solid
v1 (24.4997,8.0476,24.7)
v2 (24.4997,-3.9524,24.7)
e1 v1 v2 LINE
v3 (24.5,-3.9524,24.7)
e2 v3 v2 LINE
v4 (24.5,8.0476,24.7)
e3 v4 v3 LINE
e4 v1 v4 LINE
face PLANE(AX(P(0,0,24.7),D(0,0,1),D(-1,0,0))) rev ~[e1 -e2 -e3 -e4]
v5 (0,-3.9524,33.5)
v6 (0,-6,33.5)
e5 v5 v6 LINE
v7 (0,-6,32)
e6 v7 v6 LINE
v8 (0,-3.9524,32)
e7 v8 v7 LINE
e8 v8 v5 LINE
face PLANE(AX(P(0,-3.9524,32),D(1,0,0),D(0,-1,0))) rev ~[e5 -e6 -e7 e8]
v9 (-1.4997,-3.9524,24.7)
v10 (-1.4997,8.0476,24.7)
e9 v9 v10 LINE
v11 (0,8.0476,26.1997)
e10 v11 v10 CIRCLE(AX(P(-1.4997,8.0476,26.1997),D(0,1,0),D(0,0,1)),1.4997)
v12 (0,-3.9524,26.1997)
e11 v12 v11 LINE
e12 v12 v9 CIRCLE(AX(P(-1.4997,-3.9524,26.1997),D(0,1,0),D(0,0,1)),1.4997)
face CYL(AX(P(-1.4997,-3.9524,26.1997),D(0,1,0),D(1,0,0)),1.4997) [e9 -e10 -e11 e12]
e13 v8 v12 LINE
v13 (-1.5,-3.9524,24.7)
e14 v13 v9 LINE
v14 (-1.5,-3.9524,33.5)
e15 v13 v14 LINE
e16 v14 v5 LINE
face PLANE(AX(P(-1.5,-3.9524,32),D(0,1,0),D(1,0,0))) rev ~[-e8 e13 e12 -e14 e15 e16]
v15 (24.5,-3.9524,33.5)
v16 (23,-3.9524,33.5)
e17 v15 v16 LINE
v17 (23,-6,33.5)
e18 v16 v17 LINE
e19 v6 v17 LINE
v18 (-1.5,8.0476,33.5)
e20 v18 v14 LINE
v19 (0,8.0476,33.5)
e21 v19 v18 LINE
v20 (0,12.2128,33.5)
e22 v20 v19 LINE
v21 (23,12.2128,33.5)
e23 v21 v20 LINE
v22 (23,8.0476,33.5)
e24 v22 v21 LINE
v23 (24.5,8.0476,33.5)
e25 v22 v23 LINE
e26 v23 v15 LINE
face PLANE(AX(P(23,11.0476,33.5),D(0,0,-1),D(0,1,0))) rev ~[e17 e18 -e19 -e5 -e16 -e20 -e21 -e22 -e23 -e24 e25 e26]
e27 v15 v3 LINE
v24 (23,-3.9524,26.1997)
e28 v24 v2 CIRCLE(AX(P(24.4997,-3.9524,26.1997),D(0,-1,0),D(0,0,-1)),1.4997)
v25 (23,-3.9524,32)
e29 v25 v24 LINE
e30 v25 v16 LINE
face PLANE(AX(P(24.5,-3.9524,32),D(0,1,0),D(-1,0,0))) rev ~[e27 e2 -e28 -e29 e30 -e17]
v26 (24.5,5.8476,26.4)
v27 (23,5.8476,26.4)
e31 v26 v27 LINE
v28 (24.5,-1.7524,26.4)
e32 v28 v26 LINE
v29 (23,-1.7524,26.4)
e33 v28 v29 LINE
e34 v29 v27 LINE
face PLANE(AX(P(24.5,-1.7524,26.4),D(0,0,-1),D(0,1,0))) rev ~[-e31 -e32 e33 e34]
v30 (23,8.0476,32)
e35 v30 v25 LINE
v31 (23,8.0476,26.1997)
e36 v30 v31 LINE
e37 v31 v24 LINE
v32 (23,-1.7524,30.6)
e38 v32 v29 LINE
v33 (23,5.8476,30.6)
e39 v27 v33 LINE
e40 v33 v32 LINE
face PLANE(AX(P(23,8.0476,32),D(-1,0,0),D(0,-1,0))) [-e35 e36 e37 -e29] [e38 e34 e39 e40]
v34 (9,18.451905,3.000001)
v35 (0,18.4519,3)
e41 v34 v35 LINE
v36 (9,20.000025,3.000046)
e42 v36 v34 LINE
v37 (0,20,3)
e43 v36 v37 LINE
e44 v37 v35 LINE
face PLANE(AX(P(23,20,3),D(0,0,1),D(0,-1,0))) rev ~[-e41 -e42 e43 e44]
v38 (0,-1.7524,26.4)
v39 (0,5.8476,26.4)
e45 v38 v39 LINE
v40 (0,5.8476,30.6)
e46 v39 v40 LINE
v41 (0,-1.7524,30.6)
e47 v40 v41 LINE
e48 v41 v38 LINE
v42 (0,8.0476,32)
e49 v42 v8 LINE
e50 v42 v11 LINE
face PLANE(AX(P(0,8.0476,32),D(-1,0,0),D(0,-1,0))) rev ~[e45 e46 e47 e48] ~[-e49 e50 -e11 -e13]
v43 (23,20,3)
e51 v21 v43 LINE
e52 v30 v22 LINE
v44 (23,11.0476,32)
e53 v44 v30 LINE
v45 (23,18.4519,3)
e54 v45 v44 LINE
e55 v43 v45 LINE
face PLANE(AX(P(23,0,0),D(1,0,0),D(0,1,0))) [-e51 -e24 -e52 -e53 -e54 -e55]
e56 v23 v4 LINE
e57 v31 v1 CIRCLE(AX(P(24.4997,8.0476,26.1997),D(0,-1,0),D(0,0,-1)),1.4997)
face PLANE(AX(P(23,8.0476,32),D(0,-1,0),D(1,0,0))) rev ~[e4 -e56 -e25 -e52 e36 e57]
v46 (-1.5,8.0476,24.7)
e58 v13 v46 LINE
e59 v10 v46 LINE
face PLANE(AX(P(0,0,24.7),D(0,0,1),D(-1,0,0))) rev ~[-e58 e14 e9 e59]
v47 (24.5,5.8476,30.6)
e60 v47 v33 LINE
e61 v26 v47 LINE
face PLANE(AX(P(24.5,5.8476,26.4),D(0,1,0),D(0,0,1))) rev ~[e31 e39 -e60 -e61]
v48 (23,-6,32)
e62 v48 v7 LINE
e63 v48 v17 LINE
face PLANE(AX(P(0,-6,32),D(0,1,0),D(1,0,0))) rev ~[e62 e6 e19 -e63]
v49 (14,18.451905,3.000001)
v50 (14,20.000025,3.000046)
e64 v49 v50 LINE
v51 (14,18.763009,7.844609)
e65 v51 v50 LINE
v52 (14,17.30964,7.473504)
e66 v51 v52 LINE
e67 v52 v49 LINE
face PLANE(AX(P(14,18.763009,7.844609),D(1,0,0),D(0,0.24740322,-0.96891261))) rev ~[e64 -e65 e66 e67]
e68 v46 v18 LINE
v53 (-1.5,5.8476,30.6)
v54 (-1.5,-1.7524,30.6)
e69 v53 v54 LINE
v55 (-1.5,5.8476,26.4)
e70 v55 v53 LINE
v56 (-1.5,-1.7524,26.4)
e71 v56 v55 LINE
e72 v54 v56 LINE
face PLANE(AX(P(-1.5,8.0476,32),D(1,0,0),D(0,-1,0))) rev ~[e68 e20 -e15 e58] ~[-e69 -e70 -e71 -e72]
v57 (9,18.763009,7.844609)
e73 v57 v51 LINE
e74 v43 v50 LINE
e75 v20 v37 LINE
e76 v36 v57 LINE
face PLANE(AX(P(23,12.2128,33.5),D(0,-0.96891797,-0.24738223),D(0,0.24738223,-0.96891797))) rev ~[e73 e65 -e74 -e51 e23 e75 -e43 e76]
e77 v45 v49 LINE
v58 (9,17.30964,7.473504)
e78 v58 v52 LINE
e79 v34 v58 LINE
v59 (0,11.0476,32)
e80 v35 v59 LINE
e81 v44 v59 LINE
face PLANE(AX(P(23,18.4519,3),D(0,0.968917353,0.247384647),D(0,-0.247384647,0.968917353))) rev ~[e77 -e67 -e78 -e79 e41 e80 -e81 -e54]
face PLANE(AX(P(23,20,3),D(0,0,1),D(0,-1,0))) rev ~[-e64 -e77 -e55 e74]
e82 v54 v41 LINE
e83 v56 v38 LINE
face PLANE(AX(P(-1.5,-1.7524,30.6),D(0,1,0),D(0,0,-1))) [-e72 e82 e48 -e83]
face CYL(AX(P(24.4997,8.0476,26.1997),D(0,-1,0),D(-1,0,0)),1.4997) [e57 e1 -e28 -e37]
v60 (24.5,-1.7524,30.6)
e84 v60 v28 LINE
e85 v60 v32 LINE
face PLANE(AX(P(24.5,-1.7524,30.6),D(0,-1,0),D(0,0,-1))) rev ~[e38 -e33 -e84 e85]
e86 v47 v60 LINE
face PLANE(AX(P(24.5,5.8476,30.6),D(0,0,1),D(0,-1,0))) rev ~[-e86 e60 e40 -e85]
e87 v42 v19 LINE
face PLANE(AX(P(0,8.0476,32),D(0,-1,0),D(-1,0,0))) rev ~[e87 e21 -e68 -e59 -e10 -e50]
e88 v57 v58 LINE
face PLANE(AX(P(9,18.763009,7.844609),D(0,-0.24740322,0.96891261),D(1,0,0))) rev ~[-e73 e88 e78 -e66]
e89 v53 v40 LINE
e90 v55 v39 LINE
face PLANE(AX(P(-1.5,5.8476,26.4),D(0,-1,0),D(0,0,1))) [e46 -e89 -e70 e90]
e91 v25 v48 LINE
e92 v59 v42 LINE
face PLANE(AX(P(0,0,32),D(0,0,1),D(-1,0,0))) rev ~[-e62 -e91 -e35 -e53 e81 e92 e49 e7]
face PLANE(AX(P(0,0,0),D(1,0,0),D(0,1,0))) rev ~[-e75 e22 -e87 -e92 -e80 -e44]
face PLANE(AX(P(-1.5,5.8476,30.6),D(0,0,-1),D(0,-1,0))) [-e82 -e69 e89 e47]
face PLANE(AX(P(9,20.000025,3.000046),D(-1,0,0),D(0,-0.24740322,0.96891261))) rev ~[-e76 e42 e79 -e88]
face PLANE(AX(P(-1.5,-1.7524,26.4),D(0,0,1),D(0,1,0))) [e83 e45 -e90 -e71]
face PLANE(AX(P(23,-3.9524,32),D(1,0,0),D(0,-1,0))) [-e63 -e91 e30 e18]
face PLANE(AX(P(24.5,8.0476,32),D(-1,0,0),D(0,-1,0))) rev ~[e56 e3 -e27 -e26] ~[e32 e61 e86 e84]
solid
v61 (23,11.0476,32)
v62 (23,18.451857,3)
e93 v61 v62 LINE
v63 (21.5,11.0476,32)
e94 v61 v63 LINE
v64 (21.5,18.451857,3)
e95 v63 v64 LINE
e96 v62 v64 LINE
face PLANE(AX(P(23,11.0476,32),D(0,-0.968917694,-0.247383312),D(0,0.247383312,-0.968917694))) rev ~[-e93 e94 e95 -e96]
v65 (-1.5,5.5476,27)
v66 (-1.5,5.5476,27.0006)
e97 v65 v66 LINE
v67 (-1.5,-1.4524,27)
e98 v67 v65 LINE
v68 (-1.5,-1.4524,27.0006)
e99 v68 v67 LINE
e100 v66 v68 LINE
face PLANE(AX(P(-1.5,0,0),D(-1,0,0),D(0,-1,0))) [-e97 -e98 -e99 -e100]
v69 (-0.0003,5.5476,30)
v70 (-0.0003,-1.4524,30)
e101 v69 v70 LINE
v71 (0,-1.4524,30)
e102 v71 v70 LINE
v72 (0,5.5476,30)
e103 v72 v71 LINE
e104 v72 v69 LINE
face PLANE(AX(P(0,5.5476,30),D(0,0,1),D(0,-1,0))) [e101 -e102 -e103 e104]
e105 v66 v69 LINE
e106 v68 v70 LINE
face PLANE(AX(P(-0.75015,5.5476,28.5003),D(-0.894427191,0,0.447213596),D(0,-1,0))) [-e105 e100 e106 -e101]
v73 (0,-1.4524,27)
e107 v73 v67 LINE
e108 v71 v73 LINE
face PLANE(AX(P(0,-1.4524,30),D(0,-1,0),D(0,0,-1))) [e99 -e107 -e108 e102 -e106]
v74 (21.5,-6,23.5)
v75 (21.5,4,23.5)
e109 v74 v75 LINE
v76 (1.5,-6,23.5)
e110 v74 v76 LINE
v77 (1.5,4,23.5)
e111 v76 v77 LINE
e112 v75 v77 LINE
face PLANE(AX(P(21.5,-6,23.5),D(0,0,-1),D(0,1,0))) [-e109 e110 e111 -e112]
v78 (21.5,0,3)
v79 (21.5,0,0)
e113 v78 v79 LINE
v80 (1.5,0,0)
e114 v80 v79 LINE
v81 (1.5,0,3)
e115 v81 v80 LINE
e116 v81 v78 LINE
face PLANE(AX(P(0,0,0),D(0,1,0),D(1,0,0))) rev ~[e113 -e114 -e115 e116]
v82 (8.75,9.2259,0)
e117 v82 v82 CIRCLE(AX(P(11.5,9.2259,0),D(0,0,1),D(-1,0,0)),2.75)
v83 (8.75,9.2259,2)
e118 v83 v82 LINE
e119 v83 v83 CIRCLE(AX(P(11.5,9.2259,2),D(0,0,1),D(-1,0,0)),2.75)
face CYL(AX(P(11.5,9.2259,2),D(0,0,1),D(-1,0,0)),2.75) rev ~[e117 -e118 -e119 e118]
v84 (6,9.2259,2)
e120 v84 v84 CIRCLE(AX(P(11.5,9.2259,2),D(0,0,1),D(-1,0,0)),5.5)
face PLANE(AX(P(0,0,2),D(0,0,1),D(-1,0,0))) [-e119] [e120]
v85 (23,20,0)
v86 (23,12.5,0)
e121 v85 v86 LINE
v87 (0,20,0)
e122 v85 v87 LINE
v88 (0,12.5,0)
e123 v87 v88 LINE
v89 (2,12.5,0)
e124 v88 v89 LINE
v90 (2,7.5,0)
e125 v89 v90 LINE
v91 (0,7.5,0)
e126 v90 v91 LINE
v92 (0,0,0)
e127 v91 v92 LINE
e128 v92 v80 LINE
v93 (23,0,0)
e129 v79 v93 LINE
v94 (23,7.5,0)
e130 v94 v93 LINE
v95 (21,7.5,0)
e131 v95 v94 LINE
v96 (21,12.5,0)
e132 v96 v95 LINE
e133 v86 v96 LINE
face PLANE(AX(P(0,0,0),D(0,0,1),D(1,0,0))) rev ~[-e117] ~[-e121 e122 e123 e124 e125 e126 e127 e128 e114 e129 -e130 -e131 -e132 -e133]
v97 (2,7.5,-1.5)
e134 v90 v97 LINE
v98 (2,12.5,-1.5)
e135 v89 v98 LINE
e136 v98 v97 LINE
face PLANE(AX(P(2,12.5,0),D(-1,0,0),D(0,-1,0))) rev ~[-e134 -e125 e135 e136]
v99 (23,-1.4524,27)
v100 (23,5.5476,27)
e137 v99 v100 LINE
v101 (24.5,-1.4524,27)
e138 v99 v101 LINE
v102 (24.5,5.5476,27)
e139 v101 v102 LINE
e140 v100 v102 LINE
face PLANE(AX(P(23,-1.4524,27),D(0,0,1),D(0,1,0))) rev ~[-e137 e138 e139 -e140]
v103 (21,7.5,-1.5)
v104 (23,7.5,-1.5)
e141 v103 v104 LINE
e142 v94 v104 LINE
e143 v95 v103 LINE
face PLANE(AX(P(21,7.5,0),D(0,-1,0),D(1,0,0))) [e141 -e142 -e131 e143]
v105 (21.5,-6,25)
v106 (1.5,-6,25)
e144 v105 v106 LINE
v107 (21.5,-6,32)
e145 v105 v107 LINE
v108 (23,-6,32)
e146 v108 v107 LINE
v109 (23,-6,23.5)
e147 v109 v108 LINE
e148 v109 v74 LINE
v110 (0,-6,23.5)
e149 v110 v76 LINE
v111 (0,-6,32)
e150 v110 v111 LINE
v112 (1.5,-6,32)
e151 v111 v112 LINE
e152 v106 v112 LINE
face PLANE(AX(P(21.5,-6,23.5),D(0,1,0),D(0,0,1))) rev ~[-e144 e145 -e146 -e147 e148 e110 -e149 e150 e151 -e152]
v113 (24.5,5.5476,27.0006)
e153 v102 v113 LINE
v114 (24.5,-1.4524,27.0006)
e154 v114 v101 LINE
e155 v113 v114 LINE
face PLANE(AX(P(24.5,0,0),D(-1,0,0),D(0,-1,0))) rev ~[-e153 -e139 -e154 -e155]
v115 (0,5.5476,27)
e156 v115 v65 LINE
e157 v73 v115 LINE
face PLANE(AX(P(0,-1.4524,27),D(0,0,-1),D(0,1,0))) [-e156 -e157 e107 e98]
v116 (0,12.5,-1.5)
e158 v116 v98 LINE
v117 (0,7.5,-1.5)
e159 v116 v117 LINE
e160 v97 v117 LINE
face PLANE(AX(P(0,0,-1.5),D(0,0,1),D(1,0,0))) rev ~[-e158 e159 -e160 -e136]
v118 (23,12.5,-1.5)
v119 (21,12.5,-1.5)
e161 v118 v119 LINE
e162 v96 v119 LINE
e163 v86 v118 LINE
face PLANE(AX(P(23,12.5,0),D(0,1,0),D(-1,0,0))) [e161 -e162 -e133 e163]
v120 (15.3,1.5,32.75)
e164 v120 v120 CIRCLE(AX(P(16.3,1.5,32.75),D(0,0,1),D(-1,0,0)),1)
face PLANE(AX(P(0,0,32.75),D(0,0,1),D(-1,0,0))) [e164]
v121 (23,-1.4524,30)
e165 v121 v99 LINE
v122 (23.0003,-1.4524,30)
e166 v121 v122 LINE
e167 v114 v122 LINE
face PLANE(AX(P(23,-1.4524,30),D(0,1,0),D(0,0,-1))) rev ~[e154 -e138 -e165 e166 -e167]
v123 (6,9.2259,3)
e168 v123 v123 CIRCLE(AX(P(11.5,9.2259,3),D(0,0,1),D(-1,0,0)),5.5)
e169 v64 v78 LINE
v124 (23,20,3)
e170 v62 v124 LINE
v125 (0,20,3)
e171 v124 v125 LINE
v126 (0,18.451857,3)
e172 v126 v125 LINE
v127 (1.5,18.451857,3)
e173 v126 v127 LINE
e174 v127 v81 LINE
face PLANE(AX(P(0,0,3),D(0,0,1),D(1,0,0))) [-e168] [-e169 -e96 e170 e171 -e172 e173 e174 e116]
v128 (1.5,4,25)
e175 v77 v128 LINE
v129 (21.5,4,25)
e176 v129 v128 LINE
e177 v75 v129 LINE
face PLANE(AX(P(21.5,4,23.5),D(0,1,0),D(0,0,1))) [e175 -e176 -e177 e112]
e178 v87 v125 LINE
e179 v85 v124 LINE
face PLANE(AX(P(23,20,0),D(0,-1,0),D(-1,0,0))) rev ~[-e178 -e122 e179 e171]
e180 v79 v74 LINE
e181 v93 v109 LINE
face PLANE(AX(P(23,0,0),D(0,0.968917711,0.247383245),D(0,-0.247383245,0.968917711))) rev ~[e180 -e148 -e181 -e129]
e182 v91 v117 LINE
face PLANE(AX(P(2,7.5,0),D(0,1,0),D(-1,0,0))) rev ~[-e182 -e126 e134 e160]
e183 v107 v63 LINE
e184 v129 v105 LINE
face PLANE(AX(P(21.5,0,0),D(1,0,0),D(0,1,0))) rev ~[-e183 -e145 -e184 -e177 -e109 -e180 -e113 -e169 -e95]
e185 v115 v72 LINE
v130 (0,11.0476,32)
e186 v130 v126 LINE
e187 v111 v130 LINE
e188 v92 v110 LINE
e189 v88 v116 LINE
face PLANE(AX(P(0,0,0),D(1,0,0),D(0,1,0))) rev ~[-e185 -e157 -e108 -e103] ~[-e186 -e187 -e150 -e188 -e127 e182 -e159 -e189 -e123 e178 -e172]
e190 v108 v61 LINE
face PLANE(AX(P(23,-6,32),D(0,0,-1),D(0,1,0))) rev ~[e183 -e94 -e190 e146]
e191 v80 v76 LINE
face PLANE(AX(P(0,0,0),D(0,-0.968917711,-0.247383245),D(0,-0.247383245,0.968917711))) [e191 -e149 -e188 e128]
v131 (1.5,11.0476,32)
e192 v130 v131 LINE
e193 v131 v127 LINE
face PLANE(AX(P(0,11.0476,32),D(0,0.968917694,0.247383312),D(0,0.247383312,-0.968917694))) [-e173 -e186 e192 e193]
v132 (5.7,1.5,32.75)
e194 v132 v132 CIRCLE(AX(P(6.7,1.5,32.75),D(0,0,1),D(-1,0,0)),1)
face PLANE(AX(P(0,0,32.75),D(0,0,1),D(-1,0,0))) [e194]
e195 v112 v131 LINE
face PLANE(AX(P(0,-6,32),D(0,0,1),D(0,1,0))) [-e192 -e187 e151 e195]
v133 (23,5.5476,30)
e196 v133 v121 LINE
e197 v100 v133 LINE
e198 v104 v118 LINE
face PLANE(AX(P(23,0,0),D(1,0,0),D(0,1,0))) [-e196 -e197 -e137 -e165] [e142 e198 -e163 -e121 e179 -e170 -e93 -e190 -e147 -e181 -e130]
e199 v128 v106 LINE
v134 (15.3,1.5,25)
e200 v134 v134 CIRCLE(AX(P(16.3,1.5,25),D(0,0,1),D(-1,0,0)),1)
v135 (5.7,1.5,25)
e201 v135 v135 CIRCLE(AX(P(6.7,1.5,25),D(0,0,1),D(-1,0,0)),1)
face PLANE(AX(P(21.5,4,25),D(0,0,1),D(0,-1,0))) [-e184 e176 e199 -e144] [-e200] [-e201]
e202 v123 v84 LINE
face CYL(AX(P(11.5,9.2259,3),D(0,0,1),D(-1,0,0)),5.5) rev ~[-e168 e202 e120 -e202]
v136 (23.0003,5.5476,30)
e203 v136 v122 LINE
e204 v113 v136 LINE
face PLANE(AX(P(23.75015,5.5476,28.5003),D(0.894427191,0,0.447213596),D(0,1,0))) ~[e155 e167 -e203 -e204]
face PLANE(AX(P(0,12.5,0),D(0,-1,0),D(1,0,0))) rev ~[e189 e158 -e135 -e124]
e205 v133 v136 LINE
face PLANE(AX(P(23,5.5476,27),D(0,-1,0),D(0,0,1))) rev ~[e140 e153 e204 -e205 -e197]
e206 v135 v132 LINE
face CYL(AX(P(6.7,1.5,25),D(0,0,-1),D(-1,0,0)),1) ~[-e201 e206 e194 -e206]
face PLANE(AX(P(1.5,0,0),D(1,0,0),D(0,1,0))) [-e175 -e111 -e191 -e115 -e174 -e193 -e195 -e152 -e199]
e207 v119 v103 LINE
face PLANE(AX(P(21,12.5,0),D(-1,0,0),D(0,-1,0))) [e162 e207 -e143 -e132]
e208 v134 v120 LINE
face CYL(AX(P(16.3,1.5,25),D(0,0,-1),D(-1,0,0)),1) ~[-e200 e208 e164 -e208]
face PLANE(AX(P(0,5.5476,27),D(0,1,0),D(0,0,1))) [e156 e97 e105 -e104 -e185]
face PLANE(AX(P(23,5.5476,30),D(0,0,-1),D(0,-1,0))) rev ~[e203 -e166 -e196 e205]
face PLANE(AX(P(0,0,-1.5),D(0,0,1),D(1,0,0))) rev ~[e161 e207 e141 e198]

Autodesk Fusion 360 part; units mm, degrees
sketch "Sketch1" plane through (0, 0, 0) normal (0, 0, 1) x (1, 0, 0) in component "Halterung"
  line L0 (0, 0) -> (23, 0)
  line L1 (23, 0) -> (23, 20)
  line L2 (23, 20) -> (0, 20)
  line L3 (0, 20) -> (0, 0)
  line L4 (0, 12.5) -> (2, 12.5)
  line L5 (2, 12.5) -> (2, 7.5)
  line L6 (2, 7.5) -> (0, 7.5)
  line L7 (0, 7.5) -> (0, 12.5)
  line L8 (11.5, 20) -> (11.5, 0) construction
  line L9 (23, 12.5) -> (21, 12.5)
  line L10 (21, 7.5) -> (23, 7.5)
  line L11 (21, 12.5) -> (21, 7.5)
  line L12 (23, 7.5) -> (23, 12.5)
  dimension "d1" = 20
  dimension "d2" = 23
  dimension "d5" = 2
  dimension "d6" = 5
extrude "Extrude1" add sketch "Sketch1" along normal blind 3 makes body 1 in component "Halterung"
extrude "Extrude2" add sketch "Sketch1" against normal blind 1.5 contours L3 L4 L5 L6 L7 | L1 L9 L10 L11 L12 bodies 1 in component "Halterung"
sketch "Sketch2" plane through (23, 0, 0) normal (1, 0, 0) x (0, 1, 0) in component "Halterung"
  line L0 (0, 0) -> (7.5, 0)
  line L1 (7.5, 0) -> (7.5, -1.5)
  line L2 (7.5, -1.5) -> (12.5, -1.5)
  line L3 (12.5, -1.5) -> (12.5, 0)
  line L4 (12.5, 0) -> (20, 0)
  line L5 (20, 0) -> (20, 3)
  line L6 (20, 3) -> (0, 3)
  line L7 (0, 3) -> (0, 0)
  line L8 (0, 0) -> (-6, 23.5)
  line L9 (-6, 23.5) -> (-6, 32)
  line L10 (-6, 32) -> (11.0476, 32)
  line L11 (11.0476, 32) -> (18.4971, 2.8228)
  dimension "d11" = 8.5
  dimension "d12" = 32
  dimension "d13" = 6
  dimension "d73" = 1.5
extrude "Extrude3" add sketch "Sketch2" against normal blind 1.5 contours L6 L7 L8 L9 L10 L11 bodies 1 in component "Halterung"
extrude "Extrude4" add sketch "Sketch2" along normal blind 1.5 from surface at -23 contours L6 L7 L8 L9 L10 L11 bodies 1 in component "Halterung"
sketch "Sketch3" plane through (21.5, 0, 0) normal (-1, 0, 0) x (0, -1, 0) in component "Halterung"
  line L0 (6, 32) -> (-11.0476, 32)
  line L1 (-11.0476, 32) -> (-18.4519, 3)
  line L2 (-18.4519, 3) -> (0, 3)
  line L3 (0, 3) -> (0, 0)
  line L4 (0, 0) -> (6, 23.5)
  line L5 (6, 23.5) -> (6, 32)
  line L6 (6, 23.5) -> (-4, 23.5)
  line L7 (-4, 23.5) -> (-4, 25)
  line L8 (-4, 25) -> (6, 25)
  line L9 (6, 25) -> (6, 23.5)
  dimension "d20" = 1.5
  dimension "d21" = 10
extrude "Extrude5" add sketch "Sketch3" along normal up to surface (20 mm away) contours L5 L6 L7 L8 L9 bodies 1 in component "Halterung"
sketch "Sketch4" plane through (0, 0, 25) normal (0, 0, 1) x (-1, 0, 0) in component "Halterung"
  line L0 (-1.5, -4) -> (-1.5, 6)
  line L1 (-1.5, 6) -> (-21.5, 6)
  line L2 (-21.5, 6) -> (-21.5, -4)
  line L3 (-21.5, -4) -> (-1.5, -4)
  circle A0 centre (-6.7, -1.5) radius 1
  line L4 (-11.5, 6) -> (-11.5, -4) construction
  line L5 (0, -11.0476) -> (0, 6)
  circle A1 centre (-16.3, -1.5) radius 1
  dimension "d24" = 2
  dimension "d25" = 6.5
  dimension "d74" = 4.2
  dimension "d75" = 8
extrude "Extrude6" add sketch "Sketch4" along normal up to surface (7.75 mm away) contours A0 | A1 bodies 1 in component "Halterung"
sketch "Sketch5" plane through (0, 0, 3) normal (0, 0, 1) x (-1, 0, 0) in component "Halterung"
  line L0 (-1.5, -18.4519) -> (-1.5, 0)
  line L1 (-1.5, 0) -> (-21.5, 0)
  line L2 (-21.5, 0) -> (-21.5, -18.4519)
  line L3 (-23, -20) -> (0, -20)
  circle A0 centre (-11.5, -9.2259) radius 5.5
  line L4 (-1.5, -9.2259) -> (-21.5, -9.2259) construction
  line L5 (-11.5, -20) -> (-11.5, 0) construction
  line L6 (0, -18.4519) -> (-1.5, -18.4519)
  line L7 (-21.5, -18.4519) -> (-23, -18.4519)
  line L8 (-23, -18.4519) -> (-23, -20)
  line L9 (0, -20) -> (0, -18.4519)
  point P0 (-11.5, -9.2259)
  dimension "d29" = 11
extrude "Extrude7" cut sketch "Sketch5" against normal blind 1 contours A0 bodies 1 in component "Halterung"
sketch "Sketch6" plane through (0, 0, 2) normal (0, 0, 1) x (-1, 0, 0) in component "Halterung"
  circle A0 centre (-11.5, -9.2259) radius 5.5
  circle A1 centre (-11.5, -9.2259) radius 2.75
  dimension "d32" = 5.5
extrude "Extrude8" cut sketch "Sketch6" against normal up to surface (2 mm away) contours A1 bodies 1 in component "Halterung"
sketch "Sketch7" plane through (0, 0, 0) normal (-1, 0, 0) x (0, -1, 0) in component "Halterung"
  line L0 (-20, 0) -> (-12.5, 0)
  line L1 (-12.5, 0) -> (-12.5, -1.5)
  line L2 (-12.5, -1.5) -> (-7.5, -1.5)
  line L3 (-7.5, -1.5) -> (-7.5, 0)
  line L4 (-7.5, 0) -> (0, 0)
  line L5 (0, 0) -> (6, 23.5)
  line L6 (6, 23.5) -> (6, 32)
  line L7 (6, 32) -> (-11.0476, 32)
  line L8 (-11.0476, 32) -> (-18.4519, 3)
  line L9 (-20, 3) -> (-20, 0)
  line L10 (-5.5476, 30) -> (1.4524, 30)
  line L11 (1.4524, 30) -> (1.4524, 27)
  line L12 (1.4524, 27) -> (-5.5476, 27)
  line L13 (-5.5476, 27) -> (-5.5476, 30)
  line L14 (-18.4519, 3) -> (-20, 3)
  dimension "d35" = 3
  dimension "d36" = 7
  dimension "d37" = 2
  dimension "d38" = 5.5
  dimension "d39" = 4.3
extrude "Extrude9" add sketch "Sketch7" along normal blind 1.5 contours L10 L11 L12 L13 bodies 1 in component "Halterung"
extrude "Extrude10" add sketch "Sketch7" against normal blind 1.5 from surface at -23 contours L10 L11 L12 L13 bodies 1 in component "Halterung"
chamfer "Chamfer1" distance 3 distance2 1.5 2 edges at (24.5, 2.0476, 30) (-1.5, 2.0476, 30) measured on face at (24.5, 3.2143, 29) measured on face at (-1.5, 3.2143, 29) on bodies 1 in component "Halterung"
sketch "Sketch1 (2)" plane through (0, 0, 32) normal (0, 0, 1) x (-1, 0, 0) in component "Klappe"
  line L0 (0, -11.0476) -> (0, 6)
  line L1 (0, 6) -> (-1.5, 6)
  line L2 (-1.5, 6) -> (-1.5, -11.0476)
  line L3 (-1.5, -11.0476) -> (0, -11.0476)
  line L4 (0, -11.0476) -> (-23, -11.0476)
  line L5 (-23, -11.0476) -> (-23, 6)
  line L6 (-23, 6) -> (0, 6)
  line L7 (0, 6) -> (0, -11.0476)
  line L8 (-21.5, 6) -> (-1.5, 6)
  line L9 (-23, 6) -> (-23, -11.0476)
  line L10 (0, -8.0476) -> (1.5, -8.0476)
  line L11 (1.5, -8.0476) -> (1.5, 3.9524)
  line L12 (1.5, 3.9524) -> (0, 3.9524)
  line L13 (0, 3.9524) -> (0, -8.0476)
  line L14 (0, -5.5476) -> (1.5, -5.5476)
  line L15 (1.5, 1.4524) -> (0, 1.4524)
  line L16 (1.5, -5.5476) -> (1.5, 1.4524)
  line L17 (-11.5, -11.0476) -> (-11.5, 6) construction
  line L18 (-23, -8.0476) -> (-24.5, -8.0476)
  line L19 (-24.5, -8.0476) -> (-24.5, 3.9524)
  line L20 (-24.5, 3.9524) -> (-23, 3.9524)
  line L21 (-23, 3.9524) -> (-23, -8.0476)
  dimension "d47" = 2.5
  dimension "d48" = 2.5
extrude "Extrude1'" add sketch "Sketch1 (2)" along normal blind 1.5 separate body makes body 2 in component "Klappe"
extrude "Extrude2'" add sketch "Sketch1 (2)" against normal up to surface (7.3 mm away) contours L5 L9 L18 L19 L20 L21 bodies 2 in component "Klappe"
extrude "Extrude3'" add sketch "Sketch1 (2)" against normal up to surface (7.3 mm away) contours L0 L7 L10 L11 L13 L14 | L0 L7 L11 L13 L14 L15 L16 | L0 L7 L11 L12 L13 L15 bodies 2 in component "Klappe"
sketch "Sketch2 (2)" plane through (-1.5, 0, 0) normal (-1, 0, 0) x (0, -1, 0) in component "Klappe"
  line L0 (3.9524, 24.7) -> (3.9524, 33.5)
  line L1 (3.9524, 33.5) -> (-8.0476, 33.5)
  line L2 (-8.0476, 33.5) -> (-8.0476, 24.7)
  line L3 (-8.0476, 24.7) -> (3.9524, 24.7)
  line L4 (-5.8476, 30.6) -> (1.7524, 30.6)
  line L5 (1.7524, 30.6) -> (1.7524, 26.4)
  line L6 (1.7524, 26.4) -> (-5.8476, 26.4)
  line L7 (-5.8476, 26.4) -> (-5.8476, 30.6)
  line L8 (-5.5476, 27) -> (1.4524, 27)
  line L9 (-5.5476, 30) -> (1.4524, 30)
  line L10 (1.4524, 27) -> (1.4524, 30)
  line L11 (-5.5476, 30) -> (-5.5476, 27)
  dimension "d55" = 0.6
  dimension "d56" = 0.6
  dimension "d57" = 0.3
  dimension "d58" = 0.3
extrude "Extrude4'" cut sketch "Sketch2 (2)" against normal up to surface (1.5 mm away) contours L4 L5 L6 L7 | L8 L9 L10 L11 bodies 2 in component "Klappe"
extrude "Extrude5'" cut sketch "Sketch2 (2)" along normal up to surface (1.5 mm away) from surface at -26 contours L4 L5 L6 L7 | L8 L9 L10 L11 bodies 2 in component "Klappe"
sketch "Sketch3 (2)" plane through (0, 0, 32) normal (0, 0, -1) x (1, 0, 0) in component "Klappe"
  line L0 (0, 3.9524) -> (0, -8.0476)
  line L1 (0, -8.0476) -> (0, -11.0476)
  line L2 (0, -11.0476) -> (23, -11.0476)
  line L3 (23, -11.0476) -> (23, -8.0476)
  line L4 (23, -8.0476) -> (23, 3.9524)
  line L5 (23, 3.9524) -> (23, 6)
  line L6 (23, 6) -> (0, 6)
  line L7 (0, 6) -> (0, 3.9524)
  circle A0 centre (6.7, -1.5) radius 1 construction
  circle A1 centre (6.7, -1.5) radius 1.2
  circle A2 centre (16.3, -1.5) radius 1 construction
  circle A3 centre (16.3, -1.5) radius 1.2
  dimension "d65" = 0.2
  dimension "d66" = 0.2
extrude "Extrude11" [suppressed] in component "Halterung"
fillet "Fillet1" radius 1.5 2 edges at (0, 2.0476, 24.7) (23, 2.0476, 24.7) on bodies 2 in component "Klappe"
sketch "Sketch4 (2)" plane through (23, 0, 0) normal (1, 0, 0) x (0, 1, 0) in component "Klappe"
  line L0 (8.0476, 32) -> (11.0476, 32)
  line L1 (11.0476, 32) -> (11.0476, 33.5)
  line L2 (11.0476, 33.5) -> (8.0476, 33.5)
  line L3 (8.0476, 33.5) -> (8.0476, 32)
  line L4 (18.4519, 3) -> (11.0476, 32)
  line L5 (11.0476, 32) -> (11.0476, 33.5)
  line L6 (11.0476, 33.5) -> (12.2128, 33.5)
  line L7 (12.2128, 33.5) -> (20, 3)
  line L8 (20, 3) -> (18.4519, 3)
  line L9 (11.0476, 32) -> (18.4519, 3)
  line L10 (18.4519, 3) -> (20, 3)
  line L11 (11.0476, 32) -> (11.0476, 33.5)
extrude "Extrude7'" add sketch "Sketch4 (2)" against normal up to surface (23 mm away) contours L1 L4 L5 L6 L7 L8 L9 L10 L11 bodies 2 in component "Klappe"
sketch "Sketch5 (2)" plane through (0, 19.4951, 4.9775) normal (0, 0.9689, 0.2474) x (-1, 0, 0) in component "Klappe"
  line L0 (0, -2.0409) -> (0, 29.4375)
  line L1 (0, 29.4375) -> (-23, 29.4375)
  line L2 (-23, 29.4375) -> (-23, -2.0409)
  line L3 (-23, -2.0409) -> (0, -2.0409)
  line L4 (-14, -2.0409) -> (-9, -2.0409)
  line L5 (-9, -2.0409) -> (-9, 2.9591)
  line L6 (-9, 2.9591) -> (-14, 2.9591)
  line L7 (-14, 2.9591) -> (-14, -2.0409)
  dimension "d78" = 5
  dimension "d79" = 5
extrude "Extrude8'" cut sketch "Sketch5 (2)" against normal up to surface (1.5 mm away) contours L3 L4 L5 L6 L7 bodies 2 in component "Klappe"
component "Halterung" placed x (1, 0, 0) y (0, 1, 0) z (0, 0, 1) at (0, 0, 0)
component "Klappe" placed x (1, 0, 0) y (0, 1, 0) z (0, 0, 1) at (0, 0, 0)
